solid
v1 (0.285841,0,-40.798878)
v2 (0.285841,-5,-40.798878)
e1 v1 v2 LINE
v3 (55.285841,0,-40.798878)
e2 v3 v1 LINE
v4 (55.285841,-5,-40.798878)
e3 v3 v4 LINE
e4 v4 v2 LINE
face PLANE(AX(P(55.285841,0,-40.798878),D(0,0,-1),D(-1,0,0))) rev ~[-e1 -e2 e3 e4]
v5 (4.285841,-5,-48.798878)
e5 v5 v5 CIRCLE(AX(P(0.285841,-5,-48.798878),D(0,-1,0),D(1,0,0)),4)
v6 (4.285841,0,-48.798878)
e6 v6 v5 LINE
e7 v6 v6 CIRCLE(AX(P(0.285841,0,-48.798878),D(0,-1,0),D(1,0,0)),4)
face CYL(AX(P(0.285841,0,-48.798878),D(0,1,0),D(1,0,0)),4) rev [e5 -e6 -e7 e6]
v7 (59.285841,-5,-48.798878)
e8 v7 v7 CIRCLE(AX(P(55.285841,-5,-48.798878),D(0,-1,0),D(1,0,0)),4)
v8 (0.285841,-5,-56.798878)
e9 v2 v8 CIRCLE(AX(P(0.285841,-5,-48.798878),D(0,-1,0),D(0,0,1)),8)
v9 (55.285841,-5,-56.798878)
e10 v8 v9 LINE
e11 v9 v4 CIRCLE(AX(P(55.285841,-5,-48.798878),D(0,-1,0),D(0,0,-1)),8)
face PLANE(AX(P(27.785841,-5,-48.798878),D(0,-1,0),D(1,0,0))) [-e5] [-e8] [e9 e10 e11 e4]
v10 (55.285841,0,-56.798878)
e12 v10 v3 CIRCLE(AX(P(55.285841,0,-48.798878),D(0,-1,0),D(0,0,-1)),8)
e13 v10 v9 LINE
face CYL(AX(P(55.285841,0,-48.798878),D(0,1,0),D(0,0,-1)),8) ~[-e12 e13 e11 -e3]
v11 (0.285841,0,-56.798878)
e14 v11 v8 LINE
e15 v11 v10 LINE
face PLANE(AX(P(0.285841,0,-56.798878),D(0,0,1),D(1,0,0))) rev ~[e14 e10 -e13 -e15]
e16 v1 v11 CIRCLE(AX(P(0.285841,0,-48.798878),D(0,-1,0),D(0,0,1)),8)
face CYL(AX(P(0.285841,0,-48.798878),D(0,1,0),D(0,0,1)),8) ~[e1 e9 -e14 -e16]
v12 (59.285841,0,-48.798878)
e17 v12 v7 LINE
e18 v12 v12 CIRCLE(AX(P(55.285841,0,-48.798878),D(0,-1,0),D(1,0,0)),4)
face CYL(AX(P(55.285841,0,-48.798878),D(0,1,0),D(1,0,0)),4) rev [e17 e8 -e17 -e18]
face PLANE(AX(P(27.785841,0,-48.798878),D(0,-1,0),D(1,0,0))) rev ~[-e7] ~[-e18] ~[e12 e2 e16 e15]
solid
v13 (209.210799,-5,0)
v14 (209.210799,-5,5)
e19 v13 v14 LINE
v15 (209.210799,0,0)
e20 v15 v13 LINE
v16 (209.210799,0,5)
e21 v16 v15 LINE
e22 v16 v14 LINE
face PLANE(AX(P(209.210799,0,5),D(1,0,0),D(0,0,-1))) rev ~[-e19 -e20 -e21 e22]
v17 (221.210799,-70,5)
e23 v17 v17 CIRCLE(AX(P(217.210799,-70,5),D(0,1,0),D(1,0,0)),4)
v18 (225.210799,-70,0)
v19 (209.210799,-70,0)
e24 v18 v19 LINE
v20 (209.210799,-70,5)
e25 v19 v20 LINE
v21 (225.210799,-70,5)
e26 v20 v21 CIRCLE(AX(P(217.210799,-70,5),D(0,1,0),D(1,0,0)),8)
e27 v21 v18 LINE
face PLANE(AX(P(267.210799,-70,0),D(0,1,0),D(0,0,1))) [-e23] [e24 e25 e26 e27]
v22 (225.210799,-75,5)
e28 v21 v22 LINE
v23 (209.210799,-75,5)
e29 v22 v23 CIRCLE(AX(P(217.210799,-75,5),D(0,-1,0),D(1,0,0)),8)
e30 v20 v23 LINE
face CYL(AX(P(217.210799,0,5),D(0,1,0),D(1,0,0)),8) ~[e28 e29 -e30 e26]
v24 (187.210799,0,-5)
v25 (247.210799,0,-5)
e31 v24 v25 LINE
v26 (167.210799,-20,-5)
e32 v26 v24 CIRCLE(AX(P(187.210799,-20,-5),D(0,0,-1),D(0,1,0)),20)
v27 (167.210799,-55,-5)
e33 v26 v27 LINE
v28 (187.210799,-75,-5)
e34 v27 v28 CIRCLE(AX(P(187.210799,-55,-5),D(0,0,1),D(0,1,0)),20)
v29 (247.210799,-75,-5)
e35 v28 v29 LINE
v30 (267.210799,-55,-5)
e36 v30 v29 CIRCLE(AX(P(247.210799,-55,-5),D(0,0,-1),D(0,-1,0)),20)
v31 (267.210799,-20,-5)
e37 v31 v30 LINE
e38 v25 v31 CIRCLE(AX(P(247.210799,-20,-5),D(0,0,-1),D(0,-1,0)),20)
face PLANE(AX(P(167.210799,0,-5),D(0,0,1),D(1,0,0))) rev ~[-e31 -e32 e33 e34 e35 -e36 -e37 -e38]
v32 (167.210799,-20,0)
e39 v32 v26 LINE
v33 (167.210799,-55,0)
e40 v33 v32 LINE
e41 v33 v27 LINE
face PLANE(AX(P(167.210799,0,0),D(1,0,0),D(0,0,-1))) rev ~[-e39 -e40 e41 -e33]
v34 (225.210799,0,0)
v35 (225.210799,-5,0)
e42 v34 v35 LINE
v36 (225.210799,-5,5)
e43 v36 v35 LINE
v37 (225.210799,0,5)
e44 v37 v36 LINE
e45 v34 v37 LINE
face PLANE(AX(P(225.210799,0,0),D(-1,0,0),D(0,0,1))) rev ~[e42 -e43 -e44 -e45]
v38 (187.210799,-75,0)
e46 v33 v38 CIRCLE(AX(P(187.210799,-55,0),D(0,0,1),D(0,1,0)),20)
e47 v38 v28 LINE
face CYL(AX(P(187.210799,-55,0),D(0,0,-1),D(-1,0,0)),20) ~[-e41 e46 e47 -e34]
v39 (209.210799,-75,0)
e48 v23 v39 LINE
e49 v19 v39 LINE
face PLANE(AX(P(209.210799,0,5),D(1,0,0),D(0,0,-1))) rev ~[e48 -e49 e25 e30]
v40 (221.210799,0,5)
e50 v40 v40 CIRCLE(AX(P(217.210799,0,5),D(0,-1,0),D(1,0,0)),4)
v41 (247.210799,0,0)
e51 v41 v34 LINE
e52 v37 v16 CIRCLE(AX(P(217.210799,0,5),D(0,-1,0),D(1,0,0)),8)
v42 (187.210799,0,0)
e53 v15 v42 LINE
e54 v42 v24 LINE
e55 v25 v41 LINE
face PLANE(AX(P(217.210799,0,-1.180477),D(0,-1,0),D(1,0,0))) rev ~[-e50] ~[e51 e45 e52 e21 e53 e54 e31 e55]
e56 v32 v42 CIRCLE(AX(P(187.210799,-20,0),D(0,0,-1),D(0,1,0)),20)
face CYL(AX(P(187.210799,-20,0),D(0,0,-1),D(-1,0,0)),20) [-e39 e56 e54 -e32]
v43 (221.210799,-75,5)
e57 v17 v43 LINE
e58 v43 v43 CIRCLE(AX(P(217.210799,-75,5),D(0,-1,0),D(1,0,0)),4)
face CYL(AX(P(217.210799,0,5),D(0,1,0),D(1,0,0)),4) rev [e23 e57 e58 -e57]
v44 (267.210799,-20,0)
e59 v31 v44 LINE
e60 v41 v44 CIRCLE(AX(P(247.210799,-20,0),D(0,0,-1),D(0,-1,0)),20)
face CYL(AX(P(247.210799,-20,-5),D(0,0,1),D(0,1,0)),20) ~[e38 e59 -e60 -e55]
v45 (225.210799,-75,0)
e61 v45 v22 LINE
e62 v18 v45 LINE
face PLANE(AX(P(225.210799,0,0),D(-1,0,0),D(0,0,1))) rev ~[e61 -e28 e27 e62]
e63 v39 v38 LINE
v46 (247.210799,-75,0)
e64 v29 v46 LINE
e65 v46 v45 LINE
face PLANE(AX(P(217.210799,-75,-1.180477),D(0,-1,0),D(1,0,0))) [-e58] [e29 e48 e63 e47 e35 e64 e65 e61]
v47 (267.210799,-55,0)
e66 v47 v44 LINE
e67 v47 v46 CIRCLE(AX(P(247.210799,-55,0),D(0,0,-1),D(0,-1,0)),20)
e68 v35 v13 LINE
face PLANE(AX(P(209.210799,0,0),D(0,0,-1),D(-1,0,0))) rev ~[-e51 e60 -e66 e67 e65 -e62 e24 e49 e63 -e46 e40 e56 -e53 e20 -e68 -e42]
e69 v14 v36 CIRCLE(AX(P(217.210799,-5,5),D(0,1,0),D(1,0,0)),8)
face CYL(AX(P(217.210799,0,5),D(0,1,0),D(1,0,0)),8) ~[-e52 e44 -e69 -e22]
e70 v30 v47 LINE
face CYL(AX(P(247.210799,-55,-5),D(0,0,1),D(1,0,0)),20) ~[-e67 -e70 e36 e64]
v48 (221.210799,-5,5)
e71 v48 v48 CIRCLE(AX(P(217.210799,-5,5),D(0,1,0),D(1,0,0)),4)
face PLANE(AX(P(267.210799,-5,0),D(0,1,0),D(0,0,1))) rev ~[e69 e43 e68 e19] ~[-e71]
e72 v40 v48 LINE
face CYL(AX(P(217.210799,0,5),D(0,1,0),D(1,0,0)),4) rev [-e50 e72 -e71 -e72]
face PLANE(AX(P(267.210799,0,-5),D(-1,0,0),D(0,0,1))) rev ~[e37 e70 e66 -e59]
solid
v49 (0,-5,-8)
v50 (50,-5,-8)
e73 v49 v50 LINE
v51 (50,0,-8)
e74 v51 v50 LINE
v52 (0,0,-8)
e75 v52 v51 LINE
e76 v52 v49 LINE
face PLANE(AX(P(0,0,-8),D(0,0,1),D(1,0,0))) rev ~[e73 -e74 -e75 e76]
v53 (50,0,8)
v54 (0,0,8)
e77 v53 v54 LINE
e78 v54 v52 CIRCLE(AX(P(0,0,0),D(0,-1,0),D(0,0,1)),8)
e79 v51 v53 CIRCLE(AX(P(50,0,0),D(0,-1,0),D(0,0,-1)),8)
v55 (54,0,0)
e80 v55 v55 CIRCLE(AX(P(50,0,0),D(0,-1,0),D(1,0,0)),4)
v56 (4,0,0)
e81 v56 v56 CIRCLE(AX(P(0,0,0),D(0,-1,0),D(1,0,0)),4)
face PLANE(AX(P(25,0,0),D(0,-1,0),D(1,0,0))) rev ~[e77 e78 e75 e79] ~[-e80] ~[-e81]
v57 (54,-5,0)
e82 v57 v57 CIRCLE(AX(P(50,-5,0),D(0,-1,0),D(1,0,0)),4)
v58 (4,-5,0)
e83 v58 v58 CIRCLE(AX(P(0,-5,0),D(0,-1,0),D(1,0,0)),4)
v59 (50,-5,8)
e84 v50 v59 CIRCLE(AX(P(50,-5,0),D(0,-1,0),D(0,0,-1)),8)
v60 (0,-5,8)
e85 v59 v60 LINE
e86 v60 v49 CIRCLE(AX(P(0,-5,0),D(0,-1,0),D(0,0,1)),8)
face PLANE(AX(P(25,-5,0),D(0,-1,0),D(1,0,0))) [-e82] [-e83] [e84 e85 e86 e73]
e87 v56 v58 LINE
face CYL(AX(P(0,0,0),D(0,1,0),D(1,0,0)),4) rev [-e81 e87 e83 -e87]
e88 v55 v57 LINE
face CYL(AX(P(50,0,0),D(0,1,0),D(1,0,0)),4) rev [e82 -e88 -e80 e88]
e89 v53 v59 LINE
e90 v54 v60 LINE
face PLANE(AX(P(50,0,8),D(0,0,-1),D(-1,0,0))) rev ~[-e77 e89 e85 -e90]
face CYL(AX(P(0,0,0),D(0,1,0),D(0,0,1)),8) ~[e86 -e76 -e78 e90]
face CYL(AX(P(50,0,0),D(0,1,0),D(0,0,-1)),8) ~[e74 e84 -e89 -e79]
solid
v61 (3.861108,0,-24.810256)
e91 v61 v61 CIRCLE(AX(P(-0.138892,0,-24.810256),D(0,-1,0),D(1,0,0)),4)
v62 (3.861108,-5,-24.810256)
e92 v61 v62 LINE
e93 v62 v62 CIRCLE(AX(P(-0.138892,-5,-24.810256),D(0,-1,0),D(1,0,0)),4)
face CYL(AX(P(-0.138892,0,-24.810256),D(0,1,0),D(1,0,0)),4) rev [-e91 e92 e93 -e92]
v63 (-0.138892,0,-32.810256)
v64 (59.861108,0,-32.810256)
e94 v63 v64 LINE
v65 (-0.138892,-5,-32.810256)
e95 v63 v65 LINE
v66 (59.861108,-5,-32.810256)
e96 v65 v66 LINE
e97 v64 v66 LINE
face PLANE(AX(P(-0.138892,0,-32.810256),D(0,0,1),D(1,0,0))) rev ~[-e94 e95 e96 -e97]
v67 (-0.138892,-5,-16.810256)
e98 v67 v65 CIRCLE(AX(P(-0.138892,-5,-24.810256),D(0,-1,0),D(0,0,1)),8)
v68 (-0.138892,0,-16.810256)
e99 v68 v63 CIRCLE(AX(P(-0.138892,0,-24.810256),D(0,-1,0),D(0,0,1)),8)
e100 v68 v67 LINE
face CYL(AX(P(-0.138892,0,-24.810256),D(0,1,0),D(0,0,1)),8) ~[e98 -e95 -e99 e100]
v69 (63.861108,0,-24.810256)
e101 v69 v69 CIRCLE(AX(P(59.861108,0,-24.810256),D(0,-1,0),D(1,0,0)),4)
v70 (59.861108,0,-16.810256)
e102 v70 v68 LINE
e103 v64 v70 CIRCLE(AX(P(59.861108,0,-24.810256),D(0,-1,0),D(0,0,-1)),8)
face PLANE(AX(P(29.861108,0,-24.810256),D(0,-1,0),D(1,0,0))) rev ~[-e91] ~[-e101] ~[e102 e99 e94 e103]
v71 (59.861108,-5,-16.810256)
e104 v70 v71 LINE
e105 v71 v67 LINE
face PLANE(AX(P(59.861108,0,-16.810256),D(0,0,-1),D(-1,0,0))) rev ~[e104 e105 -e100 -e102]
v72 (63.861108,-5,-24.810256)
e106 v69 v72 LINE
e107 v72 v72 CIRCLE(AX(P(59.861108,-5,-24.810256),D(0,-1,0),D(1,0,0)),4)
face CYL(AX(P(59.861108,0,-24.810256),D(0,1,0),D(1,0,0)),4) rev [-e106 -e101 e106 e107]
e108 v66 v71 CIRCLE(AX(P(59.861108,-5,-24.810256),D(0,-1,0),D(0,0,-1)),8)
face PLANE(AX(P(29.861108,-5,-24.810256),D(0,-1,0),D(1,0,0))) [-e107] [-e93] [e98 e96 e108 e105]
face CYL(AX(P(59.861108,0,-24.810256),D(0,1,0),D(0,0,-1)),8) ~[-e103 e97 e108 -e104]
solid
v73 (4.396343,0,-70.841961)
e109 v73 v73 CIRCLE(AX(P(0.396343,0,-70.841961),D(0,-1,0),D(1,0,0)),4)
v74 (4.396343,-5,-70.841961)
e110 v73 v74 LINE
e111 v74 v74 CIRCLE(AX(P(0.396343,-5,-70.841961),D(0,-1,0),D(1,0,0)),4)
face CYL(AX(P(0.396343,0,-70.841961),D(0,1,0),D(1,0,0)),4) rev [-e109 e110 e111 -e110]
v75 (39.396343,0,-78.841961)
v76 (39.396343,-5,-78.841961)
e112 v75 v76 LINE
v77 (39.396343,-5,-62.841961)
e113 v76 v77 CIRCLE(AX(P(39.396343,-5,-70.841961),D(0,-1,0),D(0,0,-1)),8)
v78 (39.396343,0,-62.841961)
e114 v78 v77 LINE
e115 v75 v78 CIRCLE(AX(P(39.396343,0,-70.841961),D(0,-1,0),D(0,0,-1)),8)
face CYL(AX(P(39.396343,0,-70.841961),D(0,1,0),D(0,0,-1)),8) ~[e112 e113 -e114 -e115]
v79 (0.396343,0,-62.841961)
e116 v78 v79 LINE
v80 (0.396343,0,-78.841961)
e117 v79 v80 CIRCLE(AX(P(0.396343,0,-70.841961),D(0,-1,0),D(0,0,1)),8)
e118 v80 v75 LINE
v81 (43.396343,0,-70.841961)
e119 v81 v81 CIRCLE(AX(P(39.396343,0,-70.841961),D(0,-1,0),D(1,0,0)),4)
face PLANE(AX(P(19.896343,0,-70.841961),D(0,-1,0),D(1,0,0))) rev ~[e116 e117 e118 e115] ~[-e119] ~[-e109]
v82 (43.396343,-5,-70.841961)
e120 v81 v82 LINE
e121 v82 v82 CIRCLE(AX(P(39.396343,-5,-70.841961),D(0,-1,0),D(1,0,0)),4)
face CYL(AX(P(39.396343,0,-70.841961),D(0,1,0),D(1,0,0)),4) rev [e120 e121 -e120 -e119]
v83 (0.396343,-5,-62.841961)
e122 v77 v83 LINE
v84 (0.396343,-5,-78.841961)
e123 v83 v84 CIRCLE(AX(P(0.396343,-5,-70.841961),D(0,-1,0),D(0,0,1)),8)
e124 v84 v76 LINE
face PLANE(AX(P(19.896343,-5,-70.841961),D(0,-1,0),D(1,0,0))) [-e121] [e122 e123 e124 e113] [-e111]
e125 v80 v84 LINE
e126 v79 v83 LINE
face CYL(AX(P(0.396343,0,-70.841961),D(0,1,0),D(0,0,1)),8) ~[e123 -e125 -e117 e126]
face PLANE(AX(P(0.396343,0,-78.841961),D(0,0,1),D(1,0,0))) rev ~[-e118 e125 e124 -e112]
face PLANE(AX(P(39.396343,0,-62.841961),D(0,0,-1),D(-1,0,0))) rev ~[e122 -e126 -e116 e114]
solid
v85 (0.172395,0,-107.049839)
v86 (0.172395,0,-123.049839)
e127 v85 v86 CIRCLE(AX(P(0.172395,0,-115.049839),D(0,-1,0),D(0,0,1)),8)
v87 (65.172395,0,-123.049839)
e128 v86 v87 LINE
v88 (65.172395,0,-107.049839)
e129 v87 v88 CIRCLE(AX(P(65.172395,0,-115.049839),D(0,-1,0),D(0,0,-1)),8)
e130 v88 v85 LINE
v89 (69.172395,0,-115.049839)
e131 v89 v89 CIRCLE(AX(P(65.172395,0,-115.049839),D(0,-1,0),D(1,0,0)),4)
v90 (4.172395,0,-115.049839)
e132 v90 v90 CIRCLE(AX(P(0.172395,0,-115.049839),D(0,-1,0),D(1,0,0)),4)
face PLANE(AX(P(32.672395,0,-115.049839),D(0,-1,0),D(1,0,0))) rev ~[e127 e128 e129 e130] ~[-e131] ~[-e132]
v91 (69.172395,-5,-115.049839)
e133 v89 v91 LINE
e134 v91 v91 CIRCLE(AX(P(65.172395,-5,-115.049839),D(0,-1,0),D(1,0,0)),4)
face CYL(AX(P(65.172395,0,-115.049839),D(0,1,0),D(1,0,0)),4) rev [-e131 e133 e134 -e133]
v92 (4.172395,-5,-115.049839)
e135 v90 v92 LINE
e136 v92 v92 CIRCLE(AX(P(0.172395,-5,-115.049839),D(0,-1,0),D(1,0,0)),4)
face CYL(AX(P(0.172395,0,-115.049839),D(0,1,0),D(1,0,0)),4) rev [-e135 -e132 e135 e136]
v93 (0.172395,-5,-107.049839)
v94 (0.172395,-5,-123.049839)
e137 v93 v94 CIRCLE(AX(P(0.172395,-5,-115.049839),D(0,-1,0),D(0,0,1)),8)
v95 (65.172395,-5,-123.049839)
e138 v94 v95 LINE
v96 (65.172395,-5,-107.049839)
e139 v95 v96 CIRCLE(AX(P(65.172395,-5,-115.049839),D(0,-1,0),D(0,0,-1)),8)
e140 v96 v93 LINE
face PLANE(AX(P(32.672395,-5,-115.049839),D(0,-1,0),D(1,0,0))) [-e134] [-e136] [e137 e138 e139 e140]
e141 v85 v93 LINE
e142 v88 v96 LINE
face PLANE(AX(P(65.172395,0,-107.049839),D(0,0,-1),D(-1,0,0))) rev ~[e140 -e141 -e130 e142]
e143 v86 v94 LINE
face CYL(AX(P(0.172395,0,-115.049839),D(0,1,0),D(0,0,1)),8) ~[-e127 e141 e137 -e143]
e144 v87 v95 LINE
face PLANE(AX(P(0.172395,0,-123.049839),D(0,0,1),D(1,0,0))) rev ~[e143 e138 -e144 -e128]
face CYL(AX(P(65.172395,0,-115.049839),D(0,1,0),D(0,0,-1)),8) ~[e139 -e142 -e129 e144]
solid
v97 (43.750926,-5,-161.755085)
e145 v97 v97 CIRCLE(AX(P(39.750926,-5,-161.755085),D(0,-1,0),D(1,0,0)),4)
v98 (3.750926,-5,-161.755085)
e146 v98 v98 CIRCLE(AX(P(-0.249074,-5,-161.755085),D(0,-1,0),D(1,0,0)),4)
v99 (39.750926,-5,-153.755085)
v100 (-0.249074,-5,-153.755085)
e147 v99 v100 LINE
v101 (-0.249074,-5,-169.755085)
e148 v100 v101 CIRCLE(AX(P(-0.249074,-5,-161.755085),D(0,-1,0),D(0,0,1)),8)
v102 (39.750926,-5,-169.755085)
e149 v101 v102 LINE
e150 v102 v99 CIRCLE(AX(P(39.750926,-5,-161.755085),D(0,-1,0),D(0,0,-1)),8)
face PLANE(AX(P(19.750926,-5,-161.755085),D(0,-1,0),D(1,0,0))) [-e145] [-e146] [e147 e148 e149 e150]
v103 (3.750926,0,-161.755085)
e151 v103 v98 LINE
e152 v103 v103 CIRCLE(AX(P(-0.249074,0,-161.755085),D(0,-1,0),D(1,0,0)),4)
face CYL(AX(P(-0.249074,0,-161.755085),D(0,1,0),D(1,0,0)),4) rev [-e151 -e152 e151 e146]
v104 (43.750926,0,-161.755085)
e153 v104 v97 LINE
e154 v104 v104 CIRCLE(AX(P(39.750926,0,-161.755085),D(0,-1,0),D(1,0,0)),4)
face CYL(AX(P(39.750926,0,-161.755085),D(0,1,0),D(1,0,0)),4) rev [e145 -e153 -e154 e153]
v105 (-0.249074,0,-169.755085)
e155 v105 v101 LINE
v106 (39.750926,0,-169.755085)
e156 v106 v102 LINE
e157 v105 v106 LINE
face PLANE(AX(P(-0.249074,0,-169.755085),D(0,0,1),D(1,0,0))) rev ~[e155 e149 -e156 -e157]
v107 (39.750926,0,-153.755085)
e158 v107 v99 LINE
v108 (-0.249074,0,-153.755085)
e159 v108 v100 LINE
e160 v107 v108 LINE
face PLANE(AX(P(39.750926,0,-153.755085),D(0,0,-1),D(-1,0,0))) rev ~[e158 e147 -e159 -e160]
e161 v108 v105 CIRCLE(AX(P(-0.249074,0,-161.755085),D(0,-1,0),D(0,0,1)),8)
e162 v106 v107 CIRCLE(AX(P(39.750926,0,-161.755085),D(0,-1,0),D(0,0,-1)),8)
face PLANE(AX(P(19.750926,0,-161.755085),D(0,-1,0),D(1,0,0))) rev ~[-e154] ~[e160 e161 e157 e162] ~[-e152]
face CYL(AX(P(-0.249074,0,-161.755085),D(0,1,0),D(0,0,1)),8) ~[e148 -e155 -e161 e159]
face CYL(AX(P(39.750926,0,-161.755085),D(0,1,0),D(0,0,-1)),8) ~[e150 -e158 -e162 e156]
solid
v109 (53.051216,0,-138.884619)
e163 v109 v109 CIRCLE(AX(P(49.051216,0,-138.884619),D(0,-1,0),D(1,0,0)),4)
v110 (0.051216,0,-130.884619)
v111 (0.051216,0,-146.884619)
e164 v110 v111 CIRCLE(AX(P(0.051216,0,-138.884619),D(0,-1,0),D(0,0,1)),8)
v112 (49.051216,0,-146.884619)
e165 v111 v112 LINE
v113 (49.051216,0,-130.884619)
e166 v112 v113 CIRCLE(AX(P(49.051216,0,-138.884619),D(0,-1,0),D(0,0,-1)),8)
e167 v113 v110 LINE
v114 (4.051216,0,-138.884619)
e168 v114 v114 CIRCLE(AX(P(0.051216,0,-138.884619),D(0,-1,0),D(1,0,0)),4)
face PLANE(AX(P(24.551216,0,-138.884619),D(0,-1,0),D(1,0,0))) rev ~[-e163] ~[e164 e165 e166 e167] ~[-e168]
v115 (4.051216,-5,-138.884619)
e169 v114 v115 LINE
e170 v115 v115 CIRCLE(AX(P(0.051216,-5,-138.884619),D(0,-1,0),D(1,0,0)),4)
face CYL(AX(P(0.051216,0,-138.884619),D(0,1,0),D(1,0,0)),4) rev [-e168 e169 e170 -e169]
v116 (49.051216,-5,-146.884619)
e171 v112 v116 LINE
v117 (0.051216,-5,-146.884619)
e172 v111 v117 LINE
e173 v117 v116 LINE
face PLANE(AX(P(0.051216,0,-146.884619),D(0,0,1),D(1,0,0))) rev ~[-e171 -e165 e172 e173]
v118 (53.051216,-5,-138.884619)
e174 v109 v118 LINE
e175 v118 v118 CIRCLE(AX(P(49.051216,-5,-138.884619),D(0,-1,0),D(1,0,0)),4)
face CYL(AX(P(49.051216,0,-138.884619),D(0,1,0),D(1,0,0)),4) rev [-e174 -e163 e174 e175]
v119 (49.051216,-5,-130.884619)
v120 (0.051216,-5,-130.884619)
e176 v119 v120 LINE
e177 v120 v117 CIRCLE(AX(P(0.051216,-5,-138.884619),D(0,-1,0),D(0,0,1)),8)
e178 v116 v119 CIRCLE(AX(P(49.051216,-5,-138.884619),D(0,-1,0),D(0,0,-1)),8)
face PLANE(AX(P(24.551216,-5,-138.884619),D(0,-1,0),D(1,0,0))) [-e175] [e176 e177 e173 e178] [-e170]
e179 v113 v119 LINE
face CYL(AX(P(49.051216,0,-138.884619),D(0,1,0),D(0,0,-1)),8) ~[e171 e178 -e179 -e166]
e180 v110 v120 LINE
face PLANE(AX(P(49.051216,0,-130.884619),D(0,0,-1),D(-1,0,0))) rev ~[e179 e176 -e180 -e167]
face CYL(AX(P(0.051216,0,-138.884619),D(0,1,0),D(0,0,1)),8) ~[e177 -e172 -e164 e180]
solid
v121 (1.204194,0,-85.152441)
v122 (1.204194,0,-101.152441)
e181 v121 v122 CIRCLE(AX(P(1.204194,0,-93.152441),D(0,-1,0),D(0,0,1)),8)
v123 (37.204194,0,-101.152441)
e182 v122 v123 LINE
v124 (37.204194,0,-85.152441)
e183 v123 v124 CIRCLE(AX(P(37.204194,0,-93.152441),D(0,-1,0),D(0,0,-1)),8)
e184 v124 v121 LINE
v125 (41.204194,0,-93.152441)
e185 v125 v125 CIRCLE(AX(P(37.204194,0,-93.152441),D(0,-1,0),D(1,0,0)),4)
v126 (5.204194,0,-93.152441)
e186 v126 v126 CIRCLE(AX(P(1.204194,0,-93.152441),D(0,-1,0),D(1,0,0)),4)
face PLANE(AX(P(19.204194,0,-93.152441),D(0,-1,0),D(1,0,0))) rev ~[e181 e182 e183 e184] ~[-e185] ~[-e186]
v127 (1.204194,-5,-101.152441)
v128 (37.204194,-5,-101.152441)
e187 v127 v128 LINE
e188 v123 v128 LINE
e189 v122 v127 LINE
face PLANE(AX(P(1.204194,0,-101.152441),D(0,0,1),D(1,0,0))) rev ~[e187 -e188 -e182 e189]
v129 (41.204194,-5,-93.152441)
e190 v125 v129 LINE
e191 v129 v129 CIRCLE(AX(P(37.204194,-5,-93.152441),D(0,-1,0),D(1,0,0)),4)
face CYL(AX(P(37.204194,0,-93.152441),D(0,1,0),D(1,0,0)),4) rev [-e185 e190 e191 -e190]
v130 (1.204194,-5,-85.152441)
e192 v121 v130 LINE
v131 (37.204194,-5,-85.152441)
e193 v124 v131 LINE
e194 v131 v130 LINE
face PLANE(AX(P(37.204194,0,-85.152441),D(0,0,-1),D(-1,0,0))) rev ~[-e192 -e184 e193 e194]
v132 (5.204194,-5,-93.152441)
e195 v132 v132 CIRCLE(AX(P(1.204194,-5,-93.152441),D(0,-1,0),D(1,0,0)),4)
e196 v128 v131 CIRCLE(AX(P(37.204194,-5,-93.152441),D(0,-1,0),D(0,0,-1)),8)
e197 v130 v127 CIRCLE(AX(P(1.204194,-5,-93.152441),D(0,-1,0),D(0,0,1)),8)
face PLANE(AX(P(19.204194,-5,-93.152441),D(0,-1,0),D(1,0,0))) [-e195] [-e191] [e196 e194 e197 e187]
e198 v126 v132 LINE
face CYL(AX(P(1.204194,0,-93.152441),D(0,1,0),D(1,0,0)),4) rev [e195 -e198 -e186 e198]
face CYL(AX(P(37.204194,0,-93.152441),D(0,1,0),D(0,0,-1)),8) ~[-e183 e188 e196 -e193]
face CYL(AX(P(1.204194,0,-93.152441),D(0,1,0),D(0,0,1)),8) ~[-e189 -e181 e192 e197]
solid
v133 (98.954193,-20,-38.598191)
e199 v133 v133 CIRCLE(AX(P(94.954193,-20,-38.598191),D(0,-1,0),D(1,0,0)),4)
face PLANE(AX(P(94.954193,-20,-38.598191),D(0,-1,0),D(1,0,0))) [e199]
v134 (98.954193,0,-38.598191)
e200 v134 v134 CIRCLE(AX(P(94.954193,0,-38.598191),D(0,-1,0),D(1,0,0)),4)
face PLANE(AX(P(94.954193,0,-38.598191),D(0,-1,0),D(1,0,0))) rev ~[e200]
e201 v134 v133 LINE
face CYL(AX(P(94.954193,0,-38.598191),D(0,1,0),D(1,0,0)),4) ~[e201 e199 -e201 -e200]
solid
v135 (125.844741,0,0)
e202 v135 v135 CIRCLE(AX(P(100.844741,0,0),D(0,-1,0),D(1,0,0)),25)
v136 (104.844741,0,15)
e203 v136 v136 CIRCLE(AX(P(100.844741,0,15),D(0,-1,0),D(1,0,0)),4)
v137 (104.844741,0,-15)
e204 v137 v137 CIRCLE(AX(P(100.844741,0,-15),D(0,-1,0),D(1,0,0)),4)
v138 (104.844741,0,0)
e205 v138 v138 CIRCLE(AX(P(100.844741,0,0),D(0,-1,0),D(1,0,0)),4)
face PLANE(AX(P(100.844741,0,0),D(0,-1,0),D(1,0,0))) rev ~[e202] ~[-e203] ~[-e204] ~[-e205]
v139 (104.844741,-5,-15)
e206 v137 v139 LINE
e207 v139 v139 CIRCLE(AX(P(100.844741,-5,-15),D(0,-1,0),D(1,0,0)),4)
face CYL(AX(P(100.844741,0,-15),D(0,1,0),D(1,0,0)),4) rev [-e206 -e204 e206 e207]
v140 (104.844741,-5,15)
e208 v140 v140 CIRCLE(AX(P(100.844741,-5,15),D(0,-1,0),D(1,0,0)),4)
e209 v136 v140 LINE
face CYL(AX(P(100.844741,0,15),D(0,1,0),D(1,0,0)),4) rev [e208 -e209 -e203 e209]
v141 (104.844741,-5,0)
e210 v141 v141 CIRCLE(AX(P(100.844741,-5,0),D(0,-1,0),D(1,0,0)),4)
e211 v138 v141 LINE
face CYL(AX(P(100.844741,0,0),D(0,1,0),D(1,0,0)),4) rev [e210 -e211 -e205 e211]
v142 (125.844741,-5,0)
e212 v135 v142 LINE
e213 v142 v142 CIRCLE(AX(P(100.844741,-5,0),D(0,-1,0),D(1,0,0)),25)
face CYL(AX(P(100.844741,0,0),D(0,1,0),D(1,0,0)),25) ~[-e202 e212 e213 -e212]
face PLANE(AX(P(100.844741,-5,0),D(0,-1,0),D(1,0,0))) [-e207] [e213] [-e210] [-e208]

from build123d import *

# Parameters (mm, degrees)
F1_R      = 4
F2_DEPTH  = 5
F3_R      = 4
F4_DEPTH  = 5
F5_R      = 4
F6_DEPTH  = 5
F7_R      = 4
F8_DEPTH  = 5
F9_R      = 4
F10_DEPTH = 5
F11_R     = 4
F12_DEPTH = 5
F13_R     = 4
F14_DEPTH = 5
F15_R     = 25
F15_R_2   = 4
F16_DEPTH = 5
F17_R     = 4
F18_DEPTH = 75
F19_W     = 65
F19_H     = 14.1195788559
F20_DEPTH = 275.3506918171
F21_R     = 20
F22_R     = 4
F23_DEPTH = 5
F24_R     = 4
F25_DEPTH = 20


with BuildPart() as f2:
    # F1 (on Front) → F2 (new body)
    with BuildSketch(Plane.XZ):
        with BuildLine():
            Line((50, 8), (0, 8))
            ThreePointArc((0, 8), (-8, 0), (0, -8))
            Line((0, -8), (50, -8))
            ThreePointArc((50, -8), (58, 0), (50, 8))
        make_face()
        Circle(F1_R, mode=Mode.SUBTRACT)
        with Locations((50, 0)):
            Circle(F1_R, mode=Mode.SUBTRACT)
    extrude(amount=F2_DEPTH)


with BuildPart() as f4:
    # F3 (on Front) → F4 (new body)
    with BuildSketch(Plane.XZ):
        with BuildLine():
            Line((59.8611076386, -16.8102564365), (-0.1388923614, -16.8102564365))
            ThreePointArc((-0.1388923614, -16.8102564365), (-8.1388923614, -24.8102564365), (-0.1388923614, -32.8102564365))
            Line((-0.1388923614, -32.8102564365), (59.8611076386, -32.8102564365))
            ThreePointArc((59.8611076386, -32.8102564365), (67.8611076386, -24.8102564365), (59.8611076386, -16.8102564365))
        make_face()
        with Locations((-0.1388923614, -24.8102564365)):
            Circle(F3_R, mode=Mode.SUBTRACT)
        with Locations((59.8611076386, -24.8102564365)):
            Circle(F3_R, mode=Mode.SUBTRACT)
    extrude(amount=F4_DEPTH)


with BuildPart() as f6:
    # F5 (on Front) → F6 (new body)
    with BuildSketch(Plane.XZ):
        with BuildLine():
            Line((55.2858414897, -40.7988777459), (0.2858414897, -40.7988777459))
            ThreePointArc((0.2858414897, -40.7988777459), (-7.7141585103, -48.7988777459), (0.2858414897, -56.7988777459))
            Line((0.2858414897, -56.7988777459), (55.2858414897, -56.7988777459))
            ThreePointArc((55.2858414897, -56.7988777459), (63.2858414897, -48.7988777459), (55.2858414897, -40.7988777459))
        make_face()
        with Locations((0.2858414897, -48.7988777459)):
            Circle(F5_R, mode=Mode.SUBTRACT)
        with Locations((55.2858414897, -48.7988777459)):
            Circle(F5_R, mode=Mode.SUBTRACT)
    extrude(amount=F6_DEPTH)


with BuildPart() as f8:
    # F7 (on Front) → F8 (new body)
    with BuildSketch(Plane.XZ):
        with BuildLine():
            Line((39.3963426221, -62.841960609), (0.3963426221, -62.841960609))
            ThreePointArc((0.3963426221, -62.841960609), (-7.6036573779, -70.841960609), (0.3963426221, -78.841960609))
            Line((0.3963426221, -78.841960609), (39.3963426221, -78.841960609))
            ThreePointArc((39.3963426221, -78.841960609), (47.3963426221, -70.841960609), (39.3963426221, -62.841960609))
        make_face()
        with Locations((0.3963426221, -70.841960609)):
            Circle(F7_R, mode=Mode.SUBTRACT)
        with Locations((39.3963426221, -70.841960609)):
            Circle(F7_R, mode=Mode.SUBTRACT)
    extrude(amount=F8_DEPTH)


with BuildPart() as f10:
    # F9 (on Front) → F10 (new body)
    with BuildSketch(Plane.XZ):
        with BuildLine():
            Line((37.2041941751, -85.1524410844), (1.2041941751, -85.1524410844))
            ThreePointArc((1.2041941751, -85.1524410844), (-6.7958058249, -93.1524410844), (1.2041941751, -101.1524410844))
            Line((1.2041941751, -101.1524410844), (37.2041941751, -101.1524410844))
            ThreePointArc((37.2041941751, -101.1524410844), (45.2041941751, -93.1524410844), (37.2041941751, -85.1524410844))
        make_face()
        with Locations((1.2041941751, -93.1524410844)):
            Circle(F9_R, mode=Mode.SUBTRACT)
        with Locations((37.2041941751, -93.1524410844)):
            Circle(F9_R, mode=Mode.SUBTRACT)
    extrude(amount=F10_DEPTH)


with BuildPart() as f12:
    # F11 (on Front) → F12 (new body)
    with BuildSketch(Plane.XZ):
        with BuildLine():
            Line((65.172394955, -107.0498390198), (0.172394955, -107.0498390198))
            ThreePointArc((0.172394955, -107.0498390198), (-7.827605045, -115.0498390198), (0.172394955, -123.0498390198))
            Line((0.172394955, -123.0498390198), (65.172394955, -123.0498390198))
            ThreePointArc((65.172394955, -123.0498390198), (73.172394955, -115.0498390198), (65.172394955, -107.0498390198))
        make_face()
        with Locations((0.172394955, -115.0498390198)):
            Circle(F11_R, mode=Mode.SUBTRACT)
        with Locations((65.172394955, -115.0498390198)):
            Circle(F11_R, mode=Mode.SUBTRACT)
    extrude(amount=F12_DEPTH)


with BuildPart() as f14:
    # F13 (on Front) → F14 (new body)
    with BuildSketch(Plane.XZ):
        with BuildLine():
            Line((49.0512155471, -130.8846188784), (0.0512155471, -130.8846188784))
            ThreePointArc((0.0512155471, -130.8846188784), (-7.9487844529, -138.8846188784), (0.0512155471, -146.8846188784))
            Line((0.0512155471, -146.8846188784), (49.0512155471, -146.8846188784))
            ThreePointArc((49.0512155471, -146.8846188784), (57.0512155471, -138.8846188784), (49.0512155471, -130.8846188784))
        make_face()
        with Locations((0.0512155471, -138.8846188784)):
            Circle(F13_R, mode=Mode.SUBTRACT)
        with Locations((49.0512155471, -138.8846188784)):
            Circle(F13_R, mode=Mode.SUBTRACT)
    extrude(amount=F14_DEPTH)


with BuildPart() as f16:
    # F15 (on Front) → F16 (new body)
    with BuildSketch(Plane.XZ):
        with Locations((100.8447408676, 0)):
            Circle(F15_R)
        with Locations((100.8447408676, -15)):
            Circle(F15_R_2, mode=Mode.SUBTRACT)
        with Locations((100.8447408676, 0)):
            Circle(F15_R_2, mode=Mode.SUBTRACT)
        with Locations((100.8447408676, 15)):
            Circle(F15_R_2, mode=Mode.SUBTRACT)
    extrude(amount=F16_DEPTH)


with BuildPart() as f18:
    # F17 (on Front) → F18 (new body)
    with BuildSketch(Plane.XZ):
        with BuildLine():
            Line((167.2107994556, 0), (167.2107994556, -5))
            Line((167.2107994556, -5), (267.2107994556, -5))
            Line((267.2107994556, -5), (267.2107994556, 0))
            Line((267.2107994556, 0), (225.2107994556, 0))
            Line((225.2107994556, 0), (225.2107994556, 5))
            ThreePointArc((225.2107994556, 5), (217.2107994556, 13), (209.2107994556, 5))
            Line((209.2107994556, 5), (209.2107994556, 0))
            Line((209.2107994556, 0), (167.2107994556, 0))
        make_face()
        with Locations((217.2107994556, 5)):
            Circle(F17_R, mode=Mode.SUBTRACT)
    extrude(amount=F18_DEPTH)

    # F19 (on face) → F20 (cut, through all)
    with BuildSketch(Plane.YZ.offset(267.2107994556)):
        with Locations((-37.5, 7.0597894279)):
            Rectangle(F19_W, F19_H)
    extrude(amount=-F20_DEPTH, mode=Mode.SUBTRACT)

    # F21
    f21_edges = [f18.edges().sort_by_distance(p)[0] for p in [
        (267.210799, -75, -2.5),
        (267.210799, 0, -2.5),
        (167.210799, 0, -2.5),
        (167.210799, -75, -2.5),
    ]]
    fillet(f21_edges, radius=F21_R)


with BuildPart() as f23:
    # F22 (on Front) → F23 (new body)
    with BuildSketch(Plane.XZ):
        with BuildLine():
            Line((39.7509257169, -153.7550849915), (-0.2490742831, -153.7550849915))
            ThreePointArc((-0.2490742831, -153.7550849915), (-8.2490742831, -161.7550849915), (-0.2490742831, -169.7550849915))
            Line((-0.2490742831, -169.7550849915), (39.7509257169, -169.7550849915))
            ThreePointArc((39.7509257169, -169.7550849915), (47.7509257169, -161.7550849915), (39.7509257169, -153.7550849915))
        make_face()
        with Locations((-0.2490742831, -161.7550849915)):
            Circle(F22_R, mode=Mode.SUBTRACT)
        with Locations((39.7509257169, -161.7550849915)):
            Circle(F22_R, mode=Mode.SUBTRACT)
    extrude(amount=F23_DEPTH)


with BuildPart() as f25:
    # F24 (on Front) → F25 (new body)
    with BuildSketch(Plane.XZ):
        with Locations((94.9541926384, -38.5981909931)):
            Circle(F24_R)
    extrude(amount=F25_DEPTH)


solid = Compound([f2.part, f4.part, f6.part, f8.part, f10.part, f12.part, f14.part, f16.part, f18.part, f23.part, f25.part])
